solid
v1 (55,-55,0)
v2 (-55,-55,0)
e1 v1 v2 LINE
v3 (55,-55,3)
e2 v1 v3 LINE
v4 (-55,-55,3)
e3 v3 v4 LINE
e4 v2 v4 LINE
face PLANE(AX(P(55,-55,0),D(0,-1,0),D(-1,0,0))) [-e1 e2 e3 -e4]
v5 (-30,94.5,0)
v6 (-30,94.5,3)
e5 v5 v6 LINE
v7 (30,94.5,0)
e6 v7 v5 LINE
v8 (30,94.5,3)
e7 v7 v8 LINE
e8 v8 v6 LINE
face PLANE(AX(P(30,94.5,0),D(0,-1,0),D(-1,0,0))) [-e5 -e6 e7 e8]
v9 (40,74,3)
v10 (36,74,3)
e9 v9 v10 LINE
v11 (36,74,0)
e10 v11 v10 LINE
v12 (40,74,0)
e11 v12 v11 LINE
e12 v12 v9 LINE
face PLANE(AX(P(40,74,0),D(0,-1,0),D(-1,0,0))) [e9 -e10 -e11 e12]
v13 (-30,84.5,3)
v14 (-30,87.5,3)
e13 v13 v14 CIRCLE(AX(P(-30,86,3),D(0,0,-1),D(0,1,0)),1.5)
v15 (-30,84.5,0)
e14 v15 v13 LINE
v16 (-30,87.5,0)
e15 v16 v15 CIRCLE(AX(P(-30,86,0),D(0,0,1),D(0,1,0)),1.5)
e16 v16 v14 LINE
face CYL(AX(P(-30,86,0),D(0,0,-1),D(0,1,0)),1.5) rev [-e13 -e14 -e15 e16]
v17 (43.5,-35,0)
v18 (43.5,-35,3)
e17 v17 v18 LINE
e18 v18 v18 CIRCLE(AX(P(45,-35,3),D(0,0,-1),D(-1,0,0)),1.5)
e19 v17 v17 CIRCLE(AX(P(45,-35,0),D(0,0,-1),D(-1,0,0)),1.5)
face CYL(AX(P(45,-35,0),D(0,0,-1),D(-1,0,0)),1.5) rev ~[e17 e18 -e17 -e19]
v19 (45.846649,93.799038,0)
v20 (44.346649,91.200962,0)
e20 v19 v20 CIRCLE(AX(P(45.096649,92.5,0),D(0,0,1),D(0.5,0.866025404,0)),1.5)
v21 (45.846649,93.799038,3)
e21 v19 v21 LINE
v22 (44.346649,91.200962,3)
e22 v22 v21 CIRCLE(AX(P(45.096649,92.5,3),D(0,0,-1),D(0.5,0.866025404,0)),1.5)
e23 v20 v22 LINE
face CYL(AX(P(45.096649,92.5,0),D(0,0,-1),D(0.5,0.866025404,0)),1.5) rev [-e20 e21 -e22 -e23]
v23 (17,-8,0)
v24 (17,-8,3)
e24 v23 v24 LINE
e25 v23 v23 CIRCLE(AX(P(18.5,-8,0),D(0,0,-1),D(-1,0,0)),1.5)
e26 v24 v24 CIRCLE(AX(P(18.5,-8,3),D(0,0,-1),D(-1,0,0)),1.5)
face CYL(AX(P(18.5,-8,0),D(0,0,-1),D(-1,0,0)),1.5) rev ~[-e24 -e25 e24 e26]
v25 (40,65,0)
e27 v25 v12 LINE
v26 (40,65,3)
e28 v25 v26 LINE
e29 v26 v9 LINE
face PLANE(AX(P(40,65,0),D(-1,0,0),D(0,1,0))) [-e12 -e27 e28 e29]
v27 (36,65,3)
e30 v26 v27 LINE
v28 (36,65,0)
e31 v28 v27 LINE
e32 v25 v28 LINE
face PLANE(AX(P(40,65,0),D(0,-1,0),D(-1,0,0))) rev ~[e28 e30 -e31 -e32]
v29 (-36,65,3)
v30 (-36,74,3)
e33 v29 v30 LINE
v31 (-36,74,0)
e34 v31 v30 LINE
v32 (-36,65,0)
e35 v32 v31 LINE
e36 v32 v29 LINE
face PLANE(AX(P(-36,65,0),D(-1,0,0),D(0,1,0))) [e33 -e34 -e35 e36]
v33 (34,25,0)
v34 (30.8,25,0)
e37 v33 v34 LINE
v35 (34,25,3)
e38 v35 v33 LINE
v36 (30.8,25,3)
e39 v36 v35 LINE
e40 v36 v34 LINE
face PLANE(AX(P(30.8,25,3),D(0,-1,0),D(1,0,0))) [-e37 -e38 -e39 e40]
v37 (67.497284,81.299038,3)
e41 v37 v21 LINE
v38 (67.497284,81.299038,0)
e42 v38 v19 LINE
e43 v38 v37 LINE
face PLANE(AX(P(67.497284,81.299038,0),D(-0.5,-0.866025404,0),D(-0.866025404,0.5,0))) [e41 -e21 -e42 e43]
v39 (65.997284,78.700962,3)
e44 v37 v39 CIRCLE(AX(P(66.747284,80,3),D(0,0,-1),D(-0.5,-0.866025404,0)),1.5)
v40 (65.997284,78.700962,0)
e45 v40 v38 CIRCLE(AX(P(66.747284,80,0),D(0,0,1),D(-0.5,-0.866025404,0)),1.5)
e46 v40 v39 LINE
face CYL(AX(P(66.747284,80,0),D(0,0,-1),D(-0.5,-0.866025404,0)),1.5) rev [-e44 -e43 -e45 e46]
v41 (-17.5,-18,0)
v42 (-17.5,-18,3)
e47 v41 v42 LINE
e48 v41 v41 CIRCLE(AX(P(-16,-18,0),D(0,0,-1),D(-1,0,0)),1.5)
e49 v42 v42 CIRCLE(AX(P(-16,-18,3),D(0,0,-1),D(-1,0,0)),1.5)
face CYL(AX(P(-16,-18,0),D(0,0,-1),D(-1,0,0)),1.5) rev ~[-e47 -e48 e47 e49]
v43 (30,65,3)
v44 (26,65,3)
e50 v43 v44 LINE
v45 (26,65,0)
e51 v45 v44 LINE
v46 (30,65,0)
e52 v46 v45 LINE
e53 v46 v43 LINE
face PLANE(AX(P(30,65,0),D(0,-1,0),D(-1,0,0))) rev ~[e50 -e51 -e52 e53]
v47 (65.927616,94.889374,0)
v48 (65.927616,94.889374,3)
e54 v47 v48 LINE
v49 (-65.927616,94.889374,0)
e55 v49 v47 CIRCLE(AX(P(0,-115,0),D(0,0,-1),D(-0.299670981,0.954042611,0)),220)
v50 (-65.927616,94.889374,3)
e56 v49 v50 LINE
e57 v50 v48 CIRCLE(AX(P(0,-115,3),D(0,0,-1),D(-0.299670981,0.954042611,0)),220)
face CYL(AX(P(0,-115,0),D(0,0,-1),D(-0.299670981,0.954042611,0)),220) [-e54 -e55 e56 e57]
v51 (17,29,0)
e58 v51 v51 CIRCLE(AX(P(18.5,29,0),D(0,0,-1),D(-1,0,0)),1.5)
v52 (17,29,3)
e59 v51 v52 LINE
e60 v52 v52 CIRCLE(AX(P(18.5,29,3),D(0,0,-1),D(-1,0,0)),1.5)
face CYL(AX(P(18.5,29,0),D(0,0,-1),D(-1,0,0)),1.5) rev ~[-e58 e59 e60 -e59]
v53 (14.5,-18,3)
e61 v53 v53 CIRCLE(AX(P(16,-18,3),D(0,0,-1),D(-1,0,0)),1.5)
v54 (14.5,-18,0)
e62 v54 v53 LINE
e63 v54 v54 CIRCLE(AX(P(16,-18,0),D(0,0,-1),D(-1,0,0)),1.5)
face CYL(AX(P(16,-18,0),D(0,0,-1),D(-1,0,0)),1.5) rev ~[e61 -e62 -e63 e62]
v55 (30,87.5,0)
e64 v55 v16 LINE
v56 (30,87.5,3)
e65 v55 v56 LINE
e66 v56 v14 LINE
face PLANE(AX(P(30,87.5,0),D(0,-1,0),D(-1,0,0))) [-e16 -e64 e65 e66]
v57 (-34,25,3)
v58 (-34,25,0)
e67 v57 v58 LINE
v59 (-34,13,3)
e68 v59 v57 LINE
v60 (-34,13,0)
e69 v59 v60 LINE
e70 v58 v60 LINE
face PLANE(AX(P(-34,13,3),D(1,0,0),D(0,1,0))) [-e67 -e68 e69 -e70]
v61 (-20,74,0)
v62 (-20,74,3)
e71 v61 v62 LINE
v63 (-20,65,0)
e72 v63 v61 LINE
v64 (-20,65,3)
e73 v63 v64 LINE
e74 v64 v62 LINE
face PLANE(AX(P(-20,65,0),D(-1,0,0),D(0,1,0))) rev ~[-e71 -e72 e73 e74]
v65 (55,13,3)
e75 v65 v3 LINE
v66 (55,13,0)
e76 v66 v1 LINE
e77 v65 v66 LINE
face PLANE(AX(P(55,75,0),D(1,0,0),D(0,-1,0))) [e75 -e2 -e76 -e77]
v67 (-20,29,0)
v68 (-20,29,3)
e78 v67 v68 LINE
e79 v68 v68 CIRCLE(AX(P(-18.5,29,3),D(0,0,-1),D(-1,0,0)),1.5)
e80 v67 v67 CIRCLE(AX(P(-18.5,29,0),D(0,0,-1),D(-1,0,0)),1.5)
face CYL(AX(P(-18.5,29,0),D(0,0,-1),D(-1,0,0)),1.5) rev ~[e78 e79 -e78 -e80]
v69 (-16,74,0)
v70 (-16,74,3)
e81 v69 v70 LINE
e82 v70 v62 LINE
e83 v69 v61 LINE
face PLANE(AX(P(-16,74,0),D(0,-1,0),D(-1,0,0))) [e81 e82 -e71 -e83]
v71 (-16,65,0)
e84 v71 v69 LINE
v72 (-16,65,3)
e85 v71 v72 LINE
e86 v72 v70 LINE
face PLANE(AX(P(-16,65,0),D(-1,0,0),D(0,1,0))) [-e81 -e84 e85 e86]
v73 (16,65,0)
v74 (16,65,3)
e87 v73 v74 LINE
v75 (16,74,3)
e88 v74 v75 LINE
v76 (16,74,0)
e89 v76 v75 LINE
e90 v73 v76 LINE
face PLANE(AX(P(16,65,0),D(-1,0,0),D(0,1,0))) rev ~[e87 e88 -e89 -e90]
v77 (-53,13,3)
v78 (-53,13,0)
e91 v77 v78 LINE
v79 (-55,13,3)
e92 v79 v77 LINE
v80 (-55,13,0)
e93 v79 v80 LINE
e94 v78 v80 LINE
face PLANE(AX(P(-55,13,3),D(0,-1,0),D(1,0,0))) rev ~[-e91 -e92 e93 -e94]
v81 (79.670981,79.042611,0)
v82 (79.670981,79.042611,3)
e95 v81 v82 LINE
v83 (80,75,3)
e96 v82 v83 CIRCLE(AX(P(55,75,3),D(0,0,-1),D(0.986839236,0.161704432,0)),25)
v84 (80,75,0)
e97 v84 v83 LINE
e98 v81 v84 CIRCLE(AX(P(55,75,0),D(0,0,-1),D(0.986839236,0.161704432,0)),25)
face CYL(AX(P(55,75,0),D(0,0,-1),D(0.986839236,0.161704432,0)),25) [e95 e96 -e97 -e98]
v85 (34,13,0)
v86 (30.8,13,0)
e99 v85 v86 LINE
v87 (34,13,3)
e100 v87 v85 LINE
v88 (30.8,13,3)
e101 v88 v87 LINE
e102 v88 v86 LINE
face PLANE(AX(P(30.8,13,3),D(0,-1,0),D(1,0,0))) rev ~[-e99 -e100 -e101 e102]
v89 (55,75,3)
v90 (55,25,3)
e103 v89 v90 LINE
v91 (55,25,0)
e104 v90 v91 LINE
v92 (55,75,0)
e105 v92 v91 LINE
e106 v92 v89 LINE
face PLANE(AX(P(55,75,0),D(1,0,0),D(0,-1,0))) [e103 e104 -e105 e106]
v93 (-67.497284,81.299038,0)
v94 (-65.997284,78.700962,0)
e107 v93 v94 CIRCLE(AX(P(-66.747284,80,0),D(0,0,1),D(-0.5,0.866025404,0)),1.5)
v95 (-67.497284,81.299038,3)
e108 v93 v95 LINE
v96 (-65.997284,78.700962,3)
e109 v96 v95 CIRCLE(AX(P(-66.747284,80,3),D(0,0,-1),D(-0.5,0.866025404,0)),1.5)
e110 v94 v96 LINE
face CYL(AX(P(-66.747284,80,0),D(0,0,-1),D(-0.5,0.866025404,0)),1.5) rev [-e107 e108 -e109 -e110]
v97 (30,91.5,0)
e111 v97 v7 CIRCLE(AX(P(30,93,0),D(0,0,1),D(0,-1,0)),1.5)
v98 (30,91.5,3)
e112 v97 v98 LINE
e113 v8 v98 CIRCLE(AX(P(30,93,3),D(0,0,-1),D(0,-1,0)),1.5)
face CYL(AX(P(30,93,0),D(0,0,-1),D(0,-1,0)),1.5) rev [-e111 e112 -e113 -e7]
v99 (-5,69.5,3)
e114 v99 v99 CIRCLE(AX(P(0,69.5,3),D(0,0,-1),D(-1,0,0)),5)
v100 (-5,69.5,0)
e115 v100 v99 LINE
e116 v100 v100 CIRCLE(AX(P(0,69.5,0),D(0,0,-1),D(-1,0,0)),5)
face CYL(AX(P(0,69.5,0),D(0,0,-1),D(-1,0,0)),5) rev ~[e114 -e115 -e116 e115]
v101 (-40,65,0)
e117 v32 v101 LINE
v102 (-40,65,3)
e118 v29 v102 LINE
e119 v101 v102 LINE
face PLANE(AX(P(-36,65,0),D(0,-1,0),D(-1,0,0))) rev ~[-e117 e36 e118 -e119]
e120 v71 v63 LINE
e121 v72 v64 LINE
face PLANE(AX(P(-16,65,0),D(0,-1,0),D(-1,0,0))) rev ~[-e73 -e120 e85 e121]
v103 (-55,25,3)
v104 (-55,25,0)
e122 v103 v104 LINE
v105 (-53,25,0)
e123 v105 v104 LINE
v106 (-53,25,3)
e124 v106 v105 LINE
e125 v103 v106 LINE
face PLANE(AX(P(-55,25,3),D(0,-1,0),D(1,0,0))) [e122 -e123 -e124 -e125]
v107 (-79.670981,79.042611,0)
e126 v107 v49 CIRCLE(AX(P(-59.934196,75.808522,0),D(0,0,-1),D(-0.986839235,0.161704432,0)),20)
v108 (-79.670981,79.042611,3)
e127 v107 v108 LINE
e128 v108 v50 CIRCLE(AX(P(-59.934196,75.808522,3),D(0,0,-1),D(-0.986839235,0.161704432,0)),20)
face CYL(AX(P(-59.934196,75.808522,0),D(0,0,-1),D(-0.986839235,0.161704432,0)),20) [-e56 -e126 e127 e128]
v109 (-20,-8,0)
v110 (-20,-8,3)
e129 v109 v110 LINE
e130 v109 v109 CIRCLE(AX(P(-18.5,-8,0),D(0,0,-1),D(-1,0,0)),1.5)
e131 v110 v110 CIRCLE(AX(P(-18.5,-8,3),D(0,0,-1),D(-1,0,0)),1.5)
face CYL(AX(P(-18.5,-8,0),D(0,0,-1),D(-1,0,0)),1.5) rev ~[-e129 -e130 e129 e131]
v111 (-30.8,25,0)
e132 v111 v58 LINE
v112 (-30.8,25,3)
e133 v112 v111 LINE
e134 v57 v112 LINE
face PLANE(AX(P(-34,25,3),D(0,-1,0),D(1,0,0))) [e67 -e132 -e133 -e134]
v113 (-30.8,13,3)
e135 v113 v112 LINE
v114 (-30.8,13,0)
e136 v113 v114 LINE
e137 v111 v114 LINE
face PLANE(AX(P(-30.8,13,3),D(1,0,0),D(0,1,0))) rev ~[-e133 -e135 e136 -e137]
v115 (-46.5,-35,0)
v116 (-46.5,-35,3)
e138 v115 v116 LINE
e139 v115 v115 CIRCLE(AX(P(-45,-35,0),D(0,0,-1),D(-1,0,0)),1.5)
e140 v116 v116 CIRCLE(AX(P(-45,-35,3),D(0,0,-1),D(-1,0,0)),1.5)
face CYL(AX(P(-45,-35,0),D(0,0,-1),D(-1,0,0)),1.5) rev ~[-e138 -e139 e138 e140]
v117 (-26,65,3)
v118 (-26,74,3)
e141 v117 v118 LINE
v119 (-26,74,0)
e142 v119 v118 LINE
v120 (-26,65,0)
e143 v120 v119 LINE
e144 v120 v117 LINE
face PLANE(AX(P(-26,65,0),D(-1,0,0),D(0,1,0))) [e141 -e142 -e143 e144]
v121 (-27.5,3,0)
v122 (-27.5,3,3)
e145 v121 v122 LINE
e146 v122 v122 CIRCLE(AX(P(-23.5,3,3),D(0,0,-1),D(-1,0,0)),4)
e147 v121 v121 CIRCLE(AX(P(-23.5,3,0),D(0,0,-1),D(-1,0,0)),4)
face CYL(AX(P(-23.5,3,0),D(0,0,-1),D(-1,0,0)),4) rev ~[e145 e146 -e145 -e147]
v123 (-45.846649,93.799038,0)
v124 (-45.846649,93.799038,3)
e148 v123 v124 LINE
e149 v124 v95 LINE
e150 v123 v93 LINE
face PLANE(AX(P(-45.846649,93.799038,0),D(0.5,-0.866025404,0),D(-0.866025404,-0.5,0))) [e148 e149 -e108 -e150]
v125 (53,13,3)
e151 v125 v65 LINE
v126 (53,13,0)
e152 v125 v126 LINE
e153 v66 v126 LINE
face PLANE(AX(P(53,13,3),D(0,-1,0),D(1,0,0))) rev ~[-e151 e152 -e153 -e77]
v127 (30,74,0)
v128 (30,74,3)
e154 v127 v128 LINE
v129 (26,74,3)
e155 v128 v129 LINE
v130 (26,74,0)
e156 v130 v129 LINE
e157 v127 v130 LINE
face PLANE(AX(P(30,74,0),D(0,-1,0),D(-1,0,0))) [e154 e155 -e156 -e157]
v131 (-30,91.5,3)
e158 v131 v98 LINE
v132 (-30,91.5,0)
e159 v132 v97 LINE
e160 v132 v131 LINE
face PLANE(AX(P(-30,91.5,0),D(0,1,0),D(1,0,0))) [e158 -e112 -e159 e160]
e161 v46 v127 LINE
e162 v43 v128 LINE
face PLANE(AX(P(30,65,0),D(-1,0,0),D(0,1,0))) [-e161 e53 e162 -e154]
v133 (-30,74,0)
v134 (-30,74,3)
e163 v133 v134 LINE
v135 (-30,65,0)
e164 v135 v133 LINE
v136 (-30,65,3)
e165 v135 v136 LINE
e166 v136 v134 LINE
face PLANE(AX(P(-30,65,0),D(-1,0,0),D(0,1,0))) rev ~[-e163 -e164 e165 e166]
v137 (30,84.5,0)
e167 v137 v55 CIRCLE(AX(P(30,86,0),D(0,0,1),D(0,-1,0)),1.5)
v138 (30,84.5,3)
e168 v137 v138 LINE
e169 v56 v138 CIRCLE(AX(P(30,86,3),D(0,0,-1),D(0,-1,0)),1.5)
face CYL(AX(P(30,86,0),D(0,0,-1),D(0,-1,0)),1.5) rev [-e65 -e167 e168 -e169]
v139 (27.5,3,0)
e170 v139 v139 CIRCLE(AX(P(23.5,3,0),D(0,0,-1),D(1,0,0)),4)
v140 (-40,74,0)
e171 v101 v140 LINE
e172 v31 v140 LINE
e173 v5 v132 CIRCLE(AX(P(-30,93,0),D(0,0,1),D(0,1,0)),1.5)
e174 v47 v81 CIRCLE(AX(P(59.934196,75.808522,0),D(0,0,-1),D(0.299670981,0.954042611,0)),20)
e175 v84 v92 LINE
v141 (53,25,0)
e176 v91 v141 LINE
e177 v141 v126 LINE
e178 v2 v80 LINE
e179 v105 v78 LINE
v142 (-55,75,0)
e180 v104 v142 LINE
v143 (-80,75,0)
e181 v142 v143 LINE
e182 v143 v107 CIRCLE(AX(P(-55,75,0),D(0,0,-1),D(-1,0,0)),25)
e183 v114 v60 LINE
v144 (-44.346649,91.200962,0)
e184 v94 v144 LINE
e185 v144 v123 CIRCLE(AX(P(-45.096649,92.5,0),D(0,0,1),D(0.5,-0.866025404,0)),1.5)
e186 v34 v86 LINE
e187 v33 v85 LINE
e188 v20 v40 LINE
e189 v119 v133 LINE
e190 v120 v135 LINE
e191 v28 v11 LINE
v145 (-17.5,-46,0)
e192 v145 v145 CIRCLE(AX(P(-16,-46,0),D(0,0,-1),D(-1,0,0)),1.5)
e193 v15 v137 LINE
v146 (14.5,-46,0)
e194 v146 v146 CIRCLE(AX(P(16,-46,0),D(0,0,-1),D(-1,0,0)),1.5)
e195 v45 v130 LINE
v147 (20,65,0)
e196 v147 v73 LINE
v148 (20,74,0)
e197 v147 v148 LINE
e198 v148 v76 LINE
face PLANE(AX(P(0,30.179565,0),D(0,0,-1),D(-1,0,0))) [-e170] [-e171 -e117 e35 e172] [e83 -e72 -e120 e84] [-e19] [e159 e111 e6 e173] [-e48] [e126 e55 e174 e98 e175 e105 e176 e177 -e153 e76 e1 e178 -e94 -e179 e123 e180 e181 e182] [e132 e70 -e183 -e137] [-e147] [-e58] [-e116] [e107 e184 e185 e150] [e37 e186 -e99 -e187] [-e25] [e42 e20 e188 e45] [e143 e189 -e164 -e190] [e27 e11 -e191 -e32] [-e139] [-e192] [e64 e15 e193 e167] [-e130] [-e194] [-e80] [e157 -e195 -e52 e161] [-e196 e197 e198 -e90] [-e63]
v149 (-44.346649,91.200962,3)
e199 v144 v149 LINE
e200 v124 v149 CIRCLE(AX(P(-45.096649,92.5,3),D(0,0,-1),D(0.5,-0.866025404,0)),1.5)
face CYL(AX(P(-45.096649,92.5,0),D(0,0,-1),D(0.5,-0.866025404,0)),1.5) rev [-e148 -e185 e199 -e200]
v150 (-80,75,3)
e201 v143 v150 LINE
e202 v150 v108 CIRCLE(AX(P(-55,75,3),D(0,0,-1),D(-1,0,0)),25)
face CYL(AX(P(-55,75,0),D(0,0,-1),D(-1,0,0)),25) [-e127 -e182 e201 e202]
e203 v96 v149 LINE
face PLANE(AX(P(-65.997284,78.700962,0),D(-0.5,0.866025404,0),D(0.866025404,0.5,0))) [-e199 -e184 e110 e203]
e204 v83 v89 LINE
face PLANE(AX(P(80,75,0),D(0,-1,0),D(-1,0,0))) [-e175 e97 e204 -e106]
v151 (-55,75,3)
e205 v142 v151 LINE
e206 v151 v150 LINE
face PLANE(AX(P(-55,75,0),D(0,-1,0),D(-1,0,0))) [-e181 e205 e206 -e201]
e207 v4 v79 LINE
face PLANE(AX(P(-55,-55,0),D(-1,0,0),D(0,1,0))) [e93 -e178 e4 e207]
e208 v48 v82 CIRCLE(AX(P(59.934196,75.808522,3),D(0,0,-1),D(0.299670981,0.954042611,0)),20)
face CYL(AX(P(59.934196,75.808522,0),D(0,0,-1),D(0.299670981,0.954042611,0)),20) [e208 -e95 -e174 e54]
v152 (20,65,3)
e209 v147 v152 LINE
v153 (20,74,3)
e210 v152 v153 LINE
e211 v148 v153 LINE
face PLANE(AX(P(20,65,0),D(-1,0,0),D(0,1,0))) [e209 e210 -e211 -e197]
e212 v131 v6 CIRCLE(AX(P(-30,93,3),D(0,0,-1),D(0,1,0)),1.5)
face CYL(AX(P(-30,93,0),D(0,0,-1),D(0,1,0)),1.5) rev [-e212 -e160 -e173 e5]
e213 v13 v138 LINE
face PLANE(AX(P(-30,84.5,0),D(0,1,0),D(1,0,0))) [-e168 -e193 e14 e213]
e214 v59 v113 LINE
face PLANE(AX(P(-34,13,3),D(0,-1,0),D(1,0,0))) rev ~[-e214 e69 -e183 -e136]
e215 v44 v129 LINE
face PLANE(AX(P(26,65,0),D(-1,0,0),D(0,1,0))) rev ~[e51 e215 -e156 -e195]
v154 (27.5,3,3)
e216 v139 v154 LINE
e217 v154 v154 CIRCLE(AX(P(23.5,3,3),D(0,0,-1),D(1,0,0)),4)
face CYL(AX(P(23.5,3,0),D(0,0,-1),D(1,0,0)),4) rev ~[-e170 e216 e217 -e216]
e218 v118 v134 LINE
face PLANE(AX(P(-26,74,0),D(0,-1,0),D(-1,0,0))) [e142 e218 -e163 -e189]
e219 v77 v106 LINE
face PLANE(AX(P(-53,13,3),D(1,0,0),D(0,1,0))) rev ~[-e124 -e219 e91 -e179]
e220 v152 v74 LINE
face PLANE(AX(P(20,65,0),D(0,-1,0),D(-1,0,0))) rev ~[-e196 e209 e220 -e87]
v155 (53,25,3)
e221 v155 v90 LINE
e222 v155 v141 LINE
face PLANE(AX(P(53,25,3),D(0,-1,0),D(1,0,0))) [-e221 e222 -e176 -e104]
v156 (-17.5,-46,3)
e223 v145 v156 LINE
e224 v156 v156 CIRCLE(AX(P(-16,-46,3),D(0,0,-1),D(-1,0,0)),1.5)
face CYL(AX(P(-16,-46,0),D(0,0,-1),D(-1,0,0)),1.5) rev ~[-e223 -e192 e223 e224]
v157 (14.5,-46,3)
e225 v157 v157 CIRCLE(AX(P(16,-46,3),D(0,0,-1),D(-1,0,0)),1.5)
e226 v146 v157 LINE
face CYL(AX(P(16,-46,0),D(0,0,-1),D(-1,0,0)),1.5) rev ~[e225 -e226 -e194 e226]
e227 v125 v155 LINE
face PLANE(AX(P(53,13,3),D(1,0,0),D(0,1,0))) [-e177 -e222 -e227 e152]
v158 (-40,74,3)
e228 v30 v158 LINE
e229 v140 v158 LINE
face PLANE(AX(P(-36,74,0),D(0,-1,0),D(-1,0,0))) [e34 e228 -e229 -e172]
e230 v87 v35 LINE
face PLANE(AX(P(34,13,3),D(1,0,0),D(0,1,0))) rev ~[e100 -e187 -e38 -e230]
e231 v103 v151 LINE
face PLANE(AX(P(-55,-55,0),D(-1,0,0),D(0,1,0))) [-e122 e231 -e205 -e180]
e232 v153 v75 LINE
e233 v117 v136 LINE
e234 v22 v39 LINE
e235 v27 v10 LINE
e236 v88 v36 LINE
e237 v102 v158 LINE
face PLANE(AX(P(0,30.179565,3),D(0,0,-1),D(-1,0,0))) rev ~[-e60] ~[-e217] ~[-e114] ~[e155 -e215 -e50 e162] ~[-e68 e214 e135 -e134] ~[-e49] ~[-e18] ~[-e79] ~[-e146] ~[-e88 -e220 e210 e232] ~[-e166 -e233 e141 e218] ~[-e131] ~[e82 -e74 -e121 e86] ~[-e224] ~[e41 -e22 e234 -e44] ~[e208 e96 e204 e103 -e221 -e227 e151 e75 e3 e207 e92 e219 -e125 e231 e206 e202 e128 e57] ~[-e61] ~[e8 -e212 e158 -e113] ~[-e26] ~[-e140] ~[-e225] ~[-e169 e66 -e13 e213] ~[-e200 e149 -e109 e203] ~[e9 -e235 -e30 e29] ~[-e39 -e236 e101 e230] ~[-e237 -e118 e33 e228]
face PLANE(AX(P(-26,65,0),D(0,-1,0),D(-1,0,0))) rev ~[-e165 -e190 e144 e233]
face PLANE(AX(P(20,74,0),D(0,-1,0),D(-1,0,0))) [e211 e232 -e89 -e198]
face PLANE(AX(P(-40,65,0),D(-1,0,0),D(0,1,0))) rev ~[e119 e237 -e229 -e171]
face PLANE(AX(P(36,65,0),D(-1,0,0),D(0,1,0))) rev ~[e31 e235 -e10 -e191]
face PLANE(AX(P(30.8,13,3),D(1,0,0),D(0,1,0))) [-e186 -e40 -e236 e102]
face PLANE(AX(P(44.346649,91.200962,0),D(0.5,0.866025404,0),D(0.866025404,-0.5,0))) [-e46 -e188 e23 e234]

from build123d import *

# Parameters (mm, degrees)
EXTRUDE_1_DEPTH     = 3
CUT_EXTRUDE_1_DEPTH = 133.037873355
SKETCH_3_W          = 2
SKETCH_3_H          = 12
SKETCH_3_W_2        = 3.2
CUT_EXTRUDE_2_DEPTH = 133.037873355
SKETCH_4_R          = 4
CUT_EXTRUDE_3_DEPTH = 133.037873355
SKETCH_5_R          = 5
SKETCH_5_W          = 4
SKETCH_5_H          = 9
CUT_EXTRUDE_4_DEPTH = 133.037873355
SKETCH_6_R          = 1.5
CUT_EXTRUDE_5_DEPTH = 10
SKETCH_8_R          = 1.5
CUT_EXTRUDE_7_DEPTH = 133.037873355
SKETCH_9_R          = 1.5
CUT_EXTRUDE_8_DEPTH = 133.037873355


with BuildPart() as part:
    # 草图1 → 凸台-拉伸1 (new body)
    with BuildSketch(Plane.XY):
        with BuildLine():
            Line((55, -55), (-55, -55))
            Line((-55, -55), (-55, 75))
            Line((-55, 75), (-80, 75))
            ThreePointArc((-80, 75), (-79.917609458, 77.027988882), (-79.670980888, 79.042610796))
            ThreePointArc((-79.670980888, 79.042610796), (-75.043492411, 88.912306625), (-65.927615795, 94.889374375))
            ThreePointArc((-65.927615795, 94.889374375), (0, 105), (65.927615795, 94.889374375))
            ThreePointArc((65.927615795, 94.889374375), (75.043492411, 88.912306625), (79.670980888, 79.042610796))
            ThreePointArc((79.670980888, 79.042610796), (79.917609458, 77.027988882), (80, 75))
            Line((80, 75), (55, 75))
            Line((55, 75), (55, -55))
        make_face()
    extrude(amount=EXTRUDE_1_DEPTH)

    # 草图2 → 切除-拉伸1 (cut, through all)
    with BuildSketch(Plane(origin=(0, 0, 0), x_dir=(-1, 0, 0), z_dir=(0, 0, -1))):
        with BuildLine():
            Line((-30, 94.5), (30, 94.5))
            ThreePointArc((30, 94.5), (31.5, 93), (30, 91.5))
            Line((30, 91.5), (-30, 91.5))
            ThreePointArc((-30, 91.5), (-31.5, 93), (-30, 94.5))
        make_face()
        with BuildLine():
            Line((-67.497284367, 81.299038106), (-45.846649273, 93.799038106))
            ThreePointArc((-45.846649273, 93.799038106), (-43.797611167, 93.25), (-44.346649273, 91.200961894))
            Line((-44.346649273, 91.200961894), (-65.997284367, 78.700961894))
            ThreePointArc((-65.997284367, 78.700961894), (-68.046322473, 79.25), (-67.497284367, 81.299038106))
        make_face()
        with BuildLine():
            Line((65.997284367, 78.700961894), (44.346649273, 91.200961894))
            ThreePointArc((44.346649273, 91.200961894), (43.797611167, 93.25), (45.846649273, 93.799038106))
            Line((45.846649273, 93.799038106), (67.497284367, 81.299038106))
            ThreePointArc((67.497284367, 81.299038106), (68.046322473, 79.25), (65.997284367, 78.700961894))
        make_face()
        with BuildLine():
            Line((-30, 87.5), (30, 87.5))
            ThreePointArc((30, 87.5), (31.5, 86), (30, 84.5))
            Line((30, 84.5), (-30, 84.5))
            ThreePointArc((-30, 84.5), (-31.5, 86), (-30, 87.5))
        make_face()
    extrude(amount=-CUT_EXTRUDE_1_DEPTH, mode=Mode.SUBTRACT)

    # 草图3 → 切除-拉伸2 (cut, through all)
    with BuildSketch(Plane.XY.offset(3)):
        with Locations((-54, 19)):
            Rectangle(SKETCH_3_W, SKETCH_3_H)
        with Locations((-32.4, 19)):
            Rectangle(SKETCH_3_W_2, SKETCH_3_H)
        with Locations((32.4, 19)):
            Rectangle(SKETCH_3_W_2, SKETCH_3_H)
        with Locations((54, 19)):
            Rectangle(SKETCH_3_W, SKETCH_3_H)
    extrude(amount=-CUT_EXTRUDE_2_DEPTH, mode=Mode.SUBTRACT)

    # 草图4 → 切除-拉伸3 (cut, through all)
    with BuildSketch(Plane(origin=(0, 0, 0), x_dir=(-1, 0, 0), z_dir=(0, 0, -1))):
        with Locations((23.5, 3)):
            Circle(SKETCH_4_R)
        with Locations(Location((-23.5, 3, 0), (0, 0, 180))):
            Circle(SKETCH_4_R)
    extrude(amount=-CUT_EXTRUDE_3_DEPTH, mode=Mode.SUBTRACT)

    # 草图5 → 切除-拉伸4 (cut, through all)
    with BuildSketch(Plane(origin=(0, 0, 0), x_dir=(-1, 0, 0), z_dir=(0, 0, -1))):
        with Locations((0, 69.5)):
            Circle(SKETCH_5_R)
        with Locations((-38, 69.5)):
            Rectangle(SKETCH_5_W, SKETCH_5_H)
        with Locations((-28, 69.5)):
            Rectangle(SKETCH_5_W, SKETCH_5_H)
        with Locations((-18, 69.5)):
            Rectangle(SKETCH_5_W, SKETCH_5_H)
        with Locations((18, 69.5)):
            Rectangle(SKETCH_5_W, SKETCH_5_H)
        with Locations((28, 69.5)):
            Rectangle(SKETCH_5_W, SKETCH_5_H)
        with Locations((38, 69.5)):
            Rectangle(SKETCH_5_W, SKETCH_5_H)
    extrude(amount=-CUT_EXTRUDE_4_DEPTH, mode=Mode.SUBTRACT)

    # 草图6 → 切除-拉伸5 (cut)
    with BuildSketch(Plane(origin=(0, 0, 0), x_dir=(-1, 0, 0), z_dir=(0, 0, -1))):
        with Locations((18.5, 29)):
            Circle(SKETCH_6_R)
        with Locations((18.5, -8)):
            Circle(SKETCH_6_R)
        with Locations((-18.5, -8)):
            Circle(SKETCH_6_R)
        with Locations((-18.5, 29)):
            Circle(SKETCH_6_R)
    extrude(amount=-CUT_EXTRUDE_5_DEPTH, mode=Mode.SUBTRACT)

    # 草图8 → 切除-拉伸7 (cut, through all)
    with BuildSketch(Plane(origin=(0, 0, 0), x_dir=(-1, 0, 0), z_dir=(0, 0, -1))):
        with Locations((-16, -46)):
            Circle(SKETCH_8_R)
        with Locations((-16, -18)):
            Circle(SKETCH_8_R)
        with Locations((16, -18)):
            Circle(SKETCH_8_R)
        with Locations((16, -46)):
            Circle(SKETCH_8_R)
    extrude(amount=-CUT_EXTRUDE_7_DEPTH, mode=Mode.SUBTRACT)

    # 草图9 → 切除-拉伸8 (cut, through all)
    with BuildSketch(Plane(origin=(0, 0, 0), x_dir=(-1, 0, 0), z_dir=(0, 0, -1))):
        with Locations((-45, -35)):
            Circle(SKETCH_9_R)
        with Locations((45, -35)):
            Circle(SKETCH_9_R)
    extrude(amount=-CUT_EXTRUDE_8_DEPTH, mode=Mode.SUBTRACT)


solid = part.part
